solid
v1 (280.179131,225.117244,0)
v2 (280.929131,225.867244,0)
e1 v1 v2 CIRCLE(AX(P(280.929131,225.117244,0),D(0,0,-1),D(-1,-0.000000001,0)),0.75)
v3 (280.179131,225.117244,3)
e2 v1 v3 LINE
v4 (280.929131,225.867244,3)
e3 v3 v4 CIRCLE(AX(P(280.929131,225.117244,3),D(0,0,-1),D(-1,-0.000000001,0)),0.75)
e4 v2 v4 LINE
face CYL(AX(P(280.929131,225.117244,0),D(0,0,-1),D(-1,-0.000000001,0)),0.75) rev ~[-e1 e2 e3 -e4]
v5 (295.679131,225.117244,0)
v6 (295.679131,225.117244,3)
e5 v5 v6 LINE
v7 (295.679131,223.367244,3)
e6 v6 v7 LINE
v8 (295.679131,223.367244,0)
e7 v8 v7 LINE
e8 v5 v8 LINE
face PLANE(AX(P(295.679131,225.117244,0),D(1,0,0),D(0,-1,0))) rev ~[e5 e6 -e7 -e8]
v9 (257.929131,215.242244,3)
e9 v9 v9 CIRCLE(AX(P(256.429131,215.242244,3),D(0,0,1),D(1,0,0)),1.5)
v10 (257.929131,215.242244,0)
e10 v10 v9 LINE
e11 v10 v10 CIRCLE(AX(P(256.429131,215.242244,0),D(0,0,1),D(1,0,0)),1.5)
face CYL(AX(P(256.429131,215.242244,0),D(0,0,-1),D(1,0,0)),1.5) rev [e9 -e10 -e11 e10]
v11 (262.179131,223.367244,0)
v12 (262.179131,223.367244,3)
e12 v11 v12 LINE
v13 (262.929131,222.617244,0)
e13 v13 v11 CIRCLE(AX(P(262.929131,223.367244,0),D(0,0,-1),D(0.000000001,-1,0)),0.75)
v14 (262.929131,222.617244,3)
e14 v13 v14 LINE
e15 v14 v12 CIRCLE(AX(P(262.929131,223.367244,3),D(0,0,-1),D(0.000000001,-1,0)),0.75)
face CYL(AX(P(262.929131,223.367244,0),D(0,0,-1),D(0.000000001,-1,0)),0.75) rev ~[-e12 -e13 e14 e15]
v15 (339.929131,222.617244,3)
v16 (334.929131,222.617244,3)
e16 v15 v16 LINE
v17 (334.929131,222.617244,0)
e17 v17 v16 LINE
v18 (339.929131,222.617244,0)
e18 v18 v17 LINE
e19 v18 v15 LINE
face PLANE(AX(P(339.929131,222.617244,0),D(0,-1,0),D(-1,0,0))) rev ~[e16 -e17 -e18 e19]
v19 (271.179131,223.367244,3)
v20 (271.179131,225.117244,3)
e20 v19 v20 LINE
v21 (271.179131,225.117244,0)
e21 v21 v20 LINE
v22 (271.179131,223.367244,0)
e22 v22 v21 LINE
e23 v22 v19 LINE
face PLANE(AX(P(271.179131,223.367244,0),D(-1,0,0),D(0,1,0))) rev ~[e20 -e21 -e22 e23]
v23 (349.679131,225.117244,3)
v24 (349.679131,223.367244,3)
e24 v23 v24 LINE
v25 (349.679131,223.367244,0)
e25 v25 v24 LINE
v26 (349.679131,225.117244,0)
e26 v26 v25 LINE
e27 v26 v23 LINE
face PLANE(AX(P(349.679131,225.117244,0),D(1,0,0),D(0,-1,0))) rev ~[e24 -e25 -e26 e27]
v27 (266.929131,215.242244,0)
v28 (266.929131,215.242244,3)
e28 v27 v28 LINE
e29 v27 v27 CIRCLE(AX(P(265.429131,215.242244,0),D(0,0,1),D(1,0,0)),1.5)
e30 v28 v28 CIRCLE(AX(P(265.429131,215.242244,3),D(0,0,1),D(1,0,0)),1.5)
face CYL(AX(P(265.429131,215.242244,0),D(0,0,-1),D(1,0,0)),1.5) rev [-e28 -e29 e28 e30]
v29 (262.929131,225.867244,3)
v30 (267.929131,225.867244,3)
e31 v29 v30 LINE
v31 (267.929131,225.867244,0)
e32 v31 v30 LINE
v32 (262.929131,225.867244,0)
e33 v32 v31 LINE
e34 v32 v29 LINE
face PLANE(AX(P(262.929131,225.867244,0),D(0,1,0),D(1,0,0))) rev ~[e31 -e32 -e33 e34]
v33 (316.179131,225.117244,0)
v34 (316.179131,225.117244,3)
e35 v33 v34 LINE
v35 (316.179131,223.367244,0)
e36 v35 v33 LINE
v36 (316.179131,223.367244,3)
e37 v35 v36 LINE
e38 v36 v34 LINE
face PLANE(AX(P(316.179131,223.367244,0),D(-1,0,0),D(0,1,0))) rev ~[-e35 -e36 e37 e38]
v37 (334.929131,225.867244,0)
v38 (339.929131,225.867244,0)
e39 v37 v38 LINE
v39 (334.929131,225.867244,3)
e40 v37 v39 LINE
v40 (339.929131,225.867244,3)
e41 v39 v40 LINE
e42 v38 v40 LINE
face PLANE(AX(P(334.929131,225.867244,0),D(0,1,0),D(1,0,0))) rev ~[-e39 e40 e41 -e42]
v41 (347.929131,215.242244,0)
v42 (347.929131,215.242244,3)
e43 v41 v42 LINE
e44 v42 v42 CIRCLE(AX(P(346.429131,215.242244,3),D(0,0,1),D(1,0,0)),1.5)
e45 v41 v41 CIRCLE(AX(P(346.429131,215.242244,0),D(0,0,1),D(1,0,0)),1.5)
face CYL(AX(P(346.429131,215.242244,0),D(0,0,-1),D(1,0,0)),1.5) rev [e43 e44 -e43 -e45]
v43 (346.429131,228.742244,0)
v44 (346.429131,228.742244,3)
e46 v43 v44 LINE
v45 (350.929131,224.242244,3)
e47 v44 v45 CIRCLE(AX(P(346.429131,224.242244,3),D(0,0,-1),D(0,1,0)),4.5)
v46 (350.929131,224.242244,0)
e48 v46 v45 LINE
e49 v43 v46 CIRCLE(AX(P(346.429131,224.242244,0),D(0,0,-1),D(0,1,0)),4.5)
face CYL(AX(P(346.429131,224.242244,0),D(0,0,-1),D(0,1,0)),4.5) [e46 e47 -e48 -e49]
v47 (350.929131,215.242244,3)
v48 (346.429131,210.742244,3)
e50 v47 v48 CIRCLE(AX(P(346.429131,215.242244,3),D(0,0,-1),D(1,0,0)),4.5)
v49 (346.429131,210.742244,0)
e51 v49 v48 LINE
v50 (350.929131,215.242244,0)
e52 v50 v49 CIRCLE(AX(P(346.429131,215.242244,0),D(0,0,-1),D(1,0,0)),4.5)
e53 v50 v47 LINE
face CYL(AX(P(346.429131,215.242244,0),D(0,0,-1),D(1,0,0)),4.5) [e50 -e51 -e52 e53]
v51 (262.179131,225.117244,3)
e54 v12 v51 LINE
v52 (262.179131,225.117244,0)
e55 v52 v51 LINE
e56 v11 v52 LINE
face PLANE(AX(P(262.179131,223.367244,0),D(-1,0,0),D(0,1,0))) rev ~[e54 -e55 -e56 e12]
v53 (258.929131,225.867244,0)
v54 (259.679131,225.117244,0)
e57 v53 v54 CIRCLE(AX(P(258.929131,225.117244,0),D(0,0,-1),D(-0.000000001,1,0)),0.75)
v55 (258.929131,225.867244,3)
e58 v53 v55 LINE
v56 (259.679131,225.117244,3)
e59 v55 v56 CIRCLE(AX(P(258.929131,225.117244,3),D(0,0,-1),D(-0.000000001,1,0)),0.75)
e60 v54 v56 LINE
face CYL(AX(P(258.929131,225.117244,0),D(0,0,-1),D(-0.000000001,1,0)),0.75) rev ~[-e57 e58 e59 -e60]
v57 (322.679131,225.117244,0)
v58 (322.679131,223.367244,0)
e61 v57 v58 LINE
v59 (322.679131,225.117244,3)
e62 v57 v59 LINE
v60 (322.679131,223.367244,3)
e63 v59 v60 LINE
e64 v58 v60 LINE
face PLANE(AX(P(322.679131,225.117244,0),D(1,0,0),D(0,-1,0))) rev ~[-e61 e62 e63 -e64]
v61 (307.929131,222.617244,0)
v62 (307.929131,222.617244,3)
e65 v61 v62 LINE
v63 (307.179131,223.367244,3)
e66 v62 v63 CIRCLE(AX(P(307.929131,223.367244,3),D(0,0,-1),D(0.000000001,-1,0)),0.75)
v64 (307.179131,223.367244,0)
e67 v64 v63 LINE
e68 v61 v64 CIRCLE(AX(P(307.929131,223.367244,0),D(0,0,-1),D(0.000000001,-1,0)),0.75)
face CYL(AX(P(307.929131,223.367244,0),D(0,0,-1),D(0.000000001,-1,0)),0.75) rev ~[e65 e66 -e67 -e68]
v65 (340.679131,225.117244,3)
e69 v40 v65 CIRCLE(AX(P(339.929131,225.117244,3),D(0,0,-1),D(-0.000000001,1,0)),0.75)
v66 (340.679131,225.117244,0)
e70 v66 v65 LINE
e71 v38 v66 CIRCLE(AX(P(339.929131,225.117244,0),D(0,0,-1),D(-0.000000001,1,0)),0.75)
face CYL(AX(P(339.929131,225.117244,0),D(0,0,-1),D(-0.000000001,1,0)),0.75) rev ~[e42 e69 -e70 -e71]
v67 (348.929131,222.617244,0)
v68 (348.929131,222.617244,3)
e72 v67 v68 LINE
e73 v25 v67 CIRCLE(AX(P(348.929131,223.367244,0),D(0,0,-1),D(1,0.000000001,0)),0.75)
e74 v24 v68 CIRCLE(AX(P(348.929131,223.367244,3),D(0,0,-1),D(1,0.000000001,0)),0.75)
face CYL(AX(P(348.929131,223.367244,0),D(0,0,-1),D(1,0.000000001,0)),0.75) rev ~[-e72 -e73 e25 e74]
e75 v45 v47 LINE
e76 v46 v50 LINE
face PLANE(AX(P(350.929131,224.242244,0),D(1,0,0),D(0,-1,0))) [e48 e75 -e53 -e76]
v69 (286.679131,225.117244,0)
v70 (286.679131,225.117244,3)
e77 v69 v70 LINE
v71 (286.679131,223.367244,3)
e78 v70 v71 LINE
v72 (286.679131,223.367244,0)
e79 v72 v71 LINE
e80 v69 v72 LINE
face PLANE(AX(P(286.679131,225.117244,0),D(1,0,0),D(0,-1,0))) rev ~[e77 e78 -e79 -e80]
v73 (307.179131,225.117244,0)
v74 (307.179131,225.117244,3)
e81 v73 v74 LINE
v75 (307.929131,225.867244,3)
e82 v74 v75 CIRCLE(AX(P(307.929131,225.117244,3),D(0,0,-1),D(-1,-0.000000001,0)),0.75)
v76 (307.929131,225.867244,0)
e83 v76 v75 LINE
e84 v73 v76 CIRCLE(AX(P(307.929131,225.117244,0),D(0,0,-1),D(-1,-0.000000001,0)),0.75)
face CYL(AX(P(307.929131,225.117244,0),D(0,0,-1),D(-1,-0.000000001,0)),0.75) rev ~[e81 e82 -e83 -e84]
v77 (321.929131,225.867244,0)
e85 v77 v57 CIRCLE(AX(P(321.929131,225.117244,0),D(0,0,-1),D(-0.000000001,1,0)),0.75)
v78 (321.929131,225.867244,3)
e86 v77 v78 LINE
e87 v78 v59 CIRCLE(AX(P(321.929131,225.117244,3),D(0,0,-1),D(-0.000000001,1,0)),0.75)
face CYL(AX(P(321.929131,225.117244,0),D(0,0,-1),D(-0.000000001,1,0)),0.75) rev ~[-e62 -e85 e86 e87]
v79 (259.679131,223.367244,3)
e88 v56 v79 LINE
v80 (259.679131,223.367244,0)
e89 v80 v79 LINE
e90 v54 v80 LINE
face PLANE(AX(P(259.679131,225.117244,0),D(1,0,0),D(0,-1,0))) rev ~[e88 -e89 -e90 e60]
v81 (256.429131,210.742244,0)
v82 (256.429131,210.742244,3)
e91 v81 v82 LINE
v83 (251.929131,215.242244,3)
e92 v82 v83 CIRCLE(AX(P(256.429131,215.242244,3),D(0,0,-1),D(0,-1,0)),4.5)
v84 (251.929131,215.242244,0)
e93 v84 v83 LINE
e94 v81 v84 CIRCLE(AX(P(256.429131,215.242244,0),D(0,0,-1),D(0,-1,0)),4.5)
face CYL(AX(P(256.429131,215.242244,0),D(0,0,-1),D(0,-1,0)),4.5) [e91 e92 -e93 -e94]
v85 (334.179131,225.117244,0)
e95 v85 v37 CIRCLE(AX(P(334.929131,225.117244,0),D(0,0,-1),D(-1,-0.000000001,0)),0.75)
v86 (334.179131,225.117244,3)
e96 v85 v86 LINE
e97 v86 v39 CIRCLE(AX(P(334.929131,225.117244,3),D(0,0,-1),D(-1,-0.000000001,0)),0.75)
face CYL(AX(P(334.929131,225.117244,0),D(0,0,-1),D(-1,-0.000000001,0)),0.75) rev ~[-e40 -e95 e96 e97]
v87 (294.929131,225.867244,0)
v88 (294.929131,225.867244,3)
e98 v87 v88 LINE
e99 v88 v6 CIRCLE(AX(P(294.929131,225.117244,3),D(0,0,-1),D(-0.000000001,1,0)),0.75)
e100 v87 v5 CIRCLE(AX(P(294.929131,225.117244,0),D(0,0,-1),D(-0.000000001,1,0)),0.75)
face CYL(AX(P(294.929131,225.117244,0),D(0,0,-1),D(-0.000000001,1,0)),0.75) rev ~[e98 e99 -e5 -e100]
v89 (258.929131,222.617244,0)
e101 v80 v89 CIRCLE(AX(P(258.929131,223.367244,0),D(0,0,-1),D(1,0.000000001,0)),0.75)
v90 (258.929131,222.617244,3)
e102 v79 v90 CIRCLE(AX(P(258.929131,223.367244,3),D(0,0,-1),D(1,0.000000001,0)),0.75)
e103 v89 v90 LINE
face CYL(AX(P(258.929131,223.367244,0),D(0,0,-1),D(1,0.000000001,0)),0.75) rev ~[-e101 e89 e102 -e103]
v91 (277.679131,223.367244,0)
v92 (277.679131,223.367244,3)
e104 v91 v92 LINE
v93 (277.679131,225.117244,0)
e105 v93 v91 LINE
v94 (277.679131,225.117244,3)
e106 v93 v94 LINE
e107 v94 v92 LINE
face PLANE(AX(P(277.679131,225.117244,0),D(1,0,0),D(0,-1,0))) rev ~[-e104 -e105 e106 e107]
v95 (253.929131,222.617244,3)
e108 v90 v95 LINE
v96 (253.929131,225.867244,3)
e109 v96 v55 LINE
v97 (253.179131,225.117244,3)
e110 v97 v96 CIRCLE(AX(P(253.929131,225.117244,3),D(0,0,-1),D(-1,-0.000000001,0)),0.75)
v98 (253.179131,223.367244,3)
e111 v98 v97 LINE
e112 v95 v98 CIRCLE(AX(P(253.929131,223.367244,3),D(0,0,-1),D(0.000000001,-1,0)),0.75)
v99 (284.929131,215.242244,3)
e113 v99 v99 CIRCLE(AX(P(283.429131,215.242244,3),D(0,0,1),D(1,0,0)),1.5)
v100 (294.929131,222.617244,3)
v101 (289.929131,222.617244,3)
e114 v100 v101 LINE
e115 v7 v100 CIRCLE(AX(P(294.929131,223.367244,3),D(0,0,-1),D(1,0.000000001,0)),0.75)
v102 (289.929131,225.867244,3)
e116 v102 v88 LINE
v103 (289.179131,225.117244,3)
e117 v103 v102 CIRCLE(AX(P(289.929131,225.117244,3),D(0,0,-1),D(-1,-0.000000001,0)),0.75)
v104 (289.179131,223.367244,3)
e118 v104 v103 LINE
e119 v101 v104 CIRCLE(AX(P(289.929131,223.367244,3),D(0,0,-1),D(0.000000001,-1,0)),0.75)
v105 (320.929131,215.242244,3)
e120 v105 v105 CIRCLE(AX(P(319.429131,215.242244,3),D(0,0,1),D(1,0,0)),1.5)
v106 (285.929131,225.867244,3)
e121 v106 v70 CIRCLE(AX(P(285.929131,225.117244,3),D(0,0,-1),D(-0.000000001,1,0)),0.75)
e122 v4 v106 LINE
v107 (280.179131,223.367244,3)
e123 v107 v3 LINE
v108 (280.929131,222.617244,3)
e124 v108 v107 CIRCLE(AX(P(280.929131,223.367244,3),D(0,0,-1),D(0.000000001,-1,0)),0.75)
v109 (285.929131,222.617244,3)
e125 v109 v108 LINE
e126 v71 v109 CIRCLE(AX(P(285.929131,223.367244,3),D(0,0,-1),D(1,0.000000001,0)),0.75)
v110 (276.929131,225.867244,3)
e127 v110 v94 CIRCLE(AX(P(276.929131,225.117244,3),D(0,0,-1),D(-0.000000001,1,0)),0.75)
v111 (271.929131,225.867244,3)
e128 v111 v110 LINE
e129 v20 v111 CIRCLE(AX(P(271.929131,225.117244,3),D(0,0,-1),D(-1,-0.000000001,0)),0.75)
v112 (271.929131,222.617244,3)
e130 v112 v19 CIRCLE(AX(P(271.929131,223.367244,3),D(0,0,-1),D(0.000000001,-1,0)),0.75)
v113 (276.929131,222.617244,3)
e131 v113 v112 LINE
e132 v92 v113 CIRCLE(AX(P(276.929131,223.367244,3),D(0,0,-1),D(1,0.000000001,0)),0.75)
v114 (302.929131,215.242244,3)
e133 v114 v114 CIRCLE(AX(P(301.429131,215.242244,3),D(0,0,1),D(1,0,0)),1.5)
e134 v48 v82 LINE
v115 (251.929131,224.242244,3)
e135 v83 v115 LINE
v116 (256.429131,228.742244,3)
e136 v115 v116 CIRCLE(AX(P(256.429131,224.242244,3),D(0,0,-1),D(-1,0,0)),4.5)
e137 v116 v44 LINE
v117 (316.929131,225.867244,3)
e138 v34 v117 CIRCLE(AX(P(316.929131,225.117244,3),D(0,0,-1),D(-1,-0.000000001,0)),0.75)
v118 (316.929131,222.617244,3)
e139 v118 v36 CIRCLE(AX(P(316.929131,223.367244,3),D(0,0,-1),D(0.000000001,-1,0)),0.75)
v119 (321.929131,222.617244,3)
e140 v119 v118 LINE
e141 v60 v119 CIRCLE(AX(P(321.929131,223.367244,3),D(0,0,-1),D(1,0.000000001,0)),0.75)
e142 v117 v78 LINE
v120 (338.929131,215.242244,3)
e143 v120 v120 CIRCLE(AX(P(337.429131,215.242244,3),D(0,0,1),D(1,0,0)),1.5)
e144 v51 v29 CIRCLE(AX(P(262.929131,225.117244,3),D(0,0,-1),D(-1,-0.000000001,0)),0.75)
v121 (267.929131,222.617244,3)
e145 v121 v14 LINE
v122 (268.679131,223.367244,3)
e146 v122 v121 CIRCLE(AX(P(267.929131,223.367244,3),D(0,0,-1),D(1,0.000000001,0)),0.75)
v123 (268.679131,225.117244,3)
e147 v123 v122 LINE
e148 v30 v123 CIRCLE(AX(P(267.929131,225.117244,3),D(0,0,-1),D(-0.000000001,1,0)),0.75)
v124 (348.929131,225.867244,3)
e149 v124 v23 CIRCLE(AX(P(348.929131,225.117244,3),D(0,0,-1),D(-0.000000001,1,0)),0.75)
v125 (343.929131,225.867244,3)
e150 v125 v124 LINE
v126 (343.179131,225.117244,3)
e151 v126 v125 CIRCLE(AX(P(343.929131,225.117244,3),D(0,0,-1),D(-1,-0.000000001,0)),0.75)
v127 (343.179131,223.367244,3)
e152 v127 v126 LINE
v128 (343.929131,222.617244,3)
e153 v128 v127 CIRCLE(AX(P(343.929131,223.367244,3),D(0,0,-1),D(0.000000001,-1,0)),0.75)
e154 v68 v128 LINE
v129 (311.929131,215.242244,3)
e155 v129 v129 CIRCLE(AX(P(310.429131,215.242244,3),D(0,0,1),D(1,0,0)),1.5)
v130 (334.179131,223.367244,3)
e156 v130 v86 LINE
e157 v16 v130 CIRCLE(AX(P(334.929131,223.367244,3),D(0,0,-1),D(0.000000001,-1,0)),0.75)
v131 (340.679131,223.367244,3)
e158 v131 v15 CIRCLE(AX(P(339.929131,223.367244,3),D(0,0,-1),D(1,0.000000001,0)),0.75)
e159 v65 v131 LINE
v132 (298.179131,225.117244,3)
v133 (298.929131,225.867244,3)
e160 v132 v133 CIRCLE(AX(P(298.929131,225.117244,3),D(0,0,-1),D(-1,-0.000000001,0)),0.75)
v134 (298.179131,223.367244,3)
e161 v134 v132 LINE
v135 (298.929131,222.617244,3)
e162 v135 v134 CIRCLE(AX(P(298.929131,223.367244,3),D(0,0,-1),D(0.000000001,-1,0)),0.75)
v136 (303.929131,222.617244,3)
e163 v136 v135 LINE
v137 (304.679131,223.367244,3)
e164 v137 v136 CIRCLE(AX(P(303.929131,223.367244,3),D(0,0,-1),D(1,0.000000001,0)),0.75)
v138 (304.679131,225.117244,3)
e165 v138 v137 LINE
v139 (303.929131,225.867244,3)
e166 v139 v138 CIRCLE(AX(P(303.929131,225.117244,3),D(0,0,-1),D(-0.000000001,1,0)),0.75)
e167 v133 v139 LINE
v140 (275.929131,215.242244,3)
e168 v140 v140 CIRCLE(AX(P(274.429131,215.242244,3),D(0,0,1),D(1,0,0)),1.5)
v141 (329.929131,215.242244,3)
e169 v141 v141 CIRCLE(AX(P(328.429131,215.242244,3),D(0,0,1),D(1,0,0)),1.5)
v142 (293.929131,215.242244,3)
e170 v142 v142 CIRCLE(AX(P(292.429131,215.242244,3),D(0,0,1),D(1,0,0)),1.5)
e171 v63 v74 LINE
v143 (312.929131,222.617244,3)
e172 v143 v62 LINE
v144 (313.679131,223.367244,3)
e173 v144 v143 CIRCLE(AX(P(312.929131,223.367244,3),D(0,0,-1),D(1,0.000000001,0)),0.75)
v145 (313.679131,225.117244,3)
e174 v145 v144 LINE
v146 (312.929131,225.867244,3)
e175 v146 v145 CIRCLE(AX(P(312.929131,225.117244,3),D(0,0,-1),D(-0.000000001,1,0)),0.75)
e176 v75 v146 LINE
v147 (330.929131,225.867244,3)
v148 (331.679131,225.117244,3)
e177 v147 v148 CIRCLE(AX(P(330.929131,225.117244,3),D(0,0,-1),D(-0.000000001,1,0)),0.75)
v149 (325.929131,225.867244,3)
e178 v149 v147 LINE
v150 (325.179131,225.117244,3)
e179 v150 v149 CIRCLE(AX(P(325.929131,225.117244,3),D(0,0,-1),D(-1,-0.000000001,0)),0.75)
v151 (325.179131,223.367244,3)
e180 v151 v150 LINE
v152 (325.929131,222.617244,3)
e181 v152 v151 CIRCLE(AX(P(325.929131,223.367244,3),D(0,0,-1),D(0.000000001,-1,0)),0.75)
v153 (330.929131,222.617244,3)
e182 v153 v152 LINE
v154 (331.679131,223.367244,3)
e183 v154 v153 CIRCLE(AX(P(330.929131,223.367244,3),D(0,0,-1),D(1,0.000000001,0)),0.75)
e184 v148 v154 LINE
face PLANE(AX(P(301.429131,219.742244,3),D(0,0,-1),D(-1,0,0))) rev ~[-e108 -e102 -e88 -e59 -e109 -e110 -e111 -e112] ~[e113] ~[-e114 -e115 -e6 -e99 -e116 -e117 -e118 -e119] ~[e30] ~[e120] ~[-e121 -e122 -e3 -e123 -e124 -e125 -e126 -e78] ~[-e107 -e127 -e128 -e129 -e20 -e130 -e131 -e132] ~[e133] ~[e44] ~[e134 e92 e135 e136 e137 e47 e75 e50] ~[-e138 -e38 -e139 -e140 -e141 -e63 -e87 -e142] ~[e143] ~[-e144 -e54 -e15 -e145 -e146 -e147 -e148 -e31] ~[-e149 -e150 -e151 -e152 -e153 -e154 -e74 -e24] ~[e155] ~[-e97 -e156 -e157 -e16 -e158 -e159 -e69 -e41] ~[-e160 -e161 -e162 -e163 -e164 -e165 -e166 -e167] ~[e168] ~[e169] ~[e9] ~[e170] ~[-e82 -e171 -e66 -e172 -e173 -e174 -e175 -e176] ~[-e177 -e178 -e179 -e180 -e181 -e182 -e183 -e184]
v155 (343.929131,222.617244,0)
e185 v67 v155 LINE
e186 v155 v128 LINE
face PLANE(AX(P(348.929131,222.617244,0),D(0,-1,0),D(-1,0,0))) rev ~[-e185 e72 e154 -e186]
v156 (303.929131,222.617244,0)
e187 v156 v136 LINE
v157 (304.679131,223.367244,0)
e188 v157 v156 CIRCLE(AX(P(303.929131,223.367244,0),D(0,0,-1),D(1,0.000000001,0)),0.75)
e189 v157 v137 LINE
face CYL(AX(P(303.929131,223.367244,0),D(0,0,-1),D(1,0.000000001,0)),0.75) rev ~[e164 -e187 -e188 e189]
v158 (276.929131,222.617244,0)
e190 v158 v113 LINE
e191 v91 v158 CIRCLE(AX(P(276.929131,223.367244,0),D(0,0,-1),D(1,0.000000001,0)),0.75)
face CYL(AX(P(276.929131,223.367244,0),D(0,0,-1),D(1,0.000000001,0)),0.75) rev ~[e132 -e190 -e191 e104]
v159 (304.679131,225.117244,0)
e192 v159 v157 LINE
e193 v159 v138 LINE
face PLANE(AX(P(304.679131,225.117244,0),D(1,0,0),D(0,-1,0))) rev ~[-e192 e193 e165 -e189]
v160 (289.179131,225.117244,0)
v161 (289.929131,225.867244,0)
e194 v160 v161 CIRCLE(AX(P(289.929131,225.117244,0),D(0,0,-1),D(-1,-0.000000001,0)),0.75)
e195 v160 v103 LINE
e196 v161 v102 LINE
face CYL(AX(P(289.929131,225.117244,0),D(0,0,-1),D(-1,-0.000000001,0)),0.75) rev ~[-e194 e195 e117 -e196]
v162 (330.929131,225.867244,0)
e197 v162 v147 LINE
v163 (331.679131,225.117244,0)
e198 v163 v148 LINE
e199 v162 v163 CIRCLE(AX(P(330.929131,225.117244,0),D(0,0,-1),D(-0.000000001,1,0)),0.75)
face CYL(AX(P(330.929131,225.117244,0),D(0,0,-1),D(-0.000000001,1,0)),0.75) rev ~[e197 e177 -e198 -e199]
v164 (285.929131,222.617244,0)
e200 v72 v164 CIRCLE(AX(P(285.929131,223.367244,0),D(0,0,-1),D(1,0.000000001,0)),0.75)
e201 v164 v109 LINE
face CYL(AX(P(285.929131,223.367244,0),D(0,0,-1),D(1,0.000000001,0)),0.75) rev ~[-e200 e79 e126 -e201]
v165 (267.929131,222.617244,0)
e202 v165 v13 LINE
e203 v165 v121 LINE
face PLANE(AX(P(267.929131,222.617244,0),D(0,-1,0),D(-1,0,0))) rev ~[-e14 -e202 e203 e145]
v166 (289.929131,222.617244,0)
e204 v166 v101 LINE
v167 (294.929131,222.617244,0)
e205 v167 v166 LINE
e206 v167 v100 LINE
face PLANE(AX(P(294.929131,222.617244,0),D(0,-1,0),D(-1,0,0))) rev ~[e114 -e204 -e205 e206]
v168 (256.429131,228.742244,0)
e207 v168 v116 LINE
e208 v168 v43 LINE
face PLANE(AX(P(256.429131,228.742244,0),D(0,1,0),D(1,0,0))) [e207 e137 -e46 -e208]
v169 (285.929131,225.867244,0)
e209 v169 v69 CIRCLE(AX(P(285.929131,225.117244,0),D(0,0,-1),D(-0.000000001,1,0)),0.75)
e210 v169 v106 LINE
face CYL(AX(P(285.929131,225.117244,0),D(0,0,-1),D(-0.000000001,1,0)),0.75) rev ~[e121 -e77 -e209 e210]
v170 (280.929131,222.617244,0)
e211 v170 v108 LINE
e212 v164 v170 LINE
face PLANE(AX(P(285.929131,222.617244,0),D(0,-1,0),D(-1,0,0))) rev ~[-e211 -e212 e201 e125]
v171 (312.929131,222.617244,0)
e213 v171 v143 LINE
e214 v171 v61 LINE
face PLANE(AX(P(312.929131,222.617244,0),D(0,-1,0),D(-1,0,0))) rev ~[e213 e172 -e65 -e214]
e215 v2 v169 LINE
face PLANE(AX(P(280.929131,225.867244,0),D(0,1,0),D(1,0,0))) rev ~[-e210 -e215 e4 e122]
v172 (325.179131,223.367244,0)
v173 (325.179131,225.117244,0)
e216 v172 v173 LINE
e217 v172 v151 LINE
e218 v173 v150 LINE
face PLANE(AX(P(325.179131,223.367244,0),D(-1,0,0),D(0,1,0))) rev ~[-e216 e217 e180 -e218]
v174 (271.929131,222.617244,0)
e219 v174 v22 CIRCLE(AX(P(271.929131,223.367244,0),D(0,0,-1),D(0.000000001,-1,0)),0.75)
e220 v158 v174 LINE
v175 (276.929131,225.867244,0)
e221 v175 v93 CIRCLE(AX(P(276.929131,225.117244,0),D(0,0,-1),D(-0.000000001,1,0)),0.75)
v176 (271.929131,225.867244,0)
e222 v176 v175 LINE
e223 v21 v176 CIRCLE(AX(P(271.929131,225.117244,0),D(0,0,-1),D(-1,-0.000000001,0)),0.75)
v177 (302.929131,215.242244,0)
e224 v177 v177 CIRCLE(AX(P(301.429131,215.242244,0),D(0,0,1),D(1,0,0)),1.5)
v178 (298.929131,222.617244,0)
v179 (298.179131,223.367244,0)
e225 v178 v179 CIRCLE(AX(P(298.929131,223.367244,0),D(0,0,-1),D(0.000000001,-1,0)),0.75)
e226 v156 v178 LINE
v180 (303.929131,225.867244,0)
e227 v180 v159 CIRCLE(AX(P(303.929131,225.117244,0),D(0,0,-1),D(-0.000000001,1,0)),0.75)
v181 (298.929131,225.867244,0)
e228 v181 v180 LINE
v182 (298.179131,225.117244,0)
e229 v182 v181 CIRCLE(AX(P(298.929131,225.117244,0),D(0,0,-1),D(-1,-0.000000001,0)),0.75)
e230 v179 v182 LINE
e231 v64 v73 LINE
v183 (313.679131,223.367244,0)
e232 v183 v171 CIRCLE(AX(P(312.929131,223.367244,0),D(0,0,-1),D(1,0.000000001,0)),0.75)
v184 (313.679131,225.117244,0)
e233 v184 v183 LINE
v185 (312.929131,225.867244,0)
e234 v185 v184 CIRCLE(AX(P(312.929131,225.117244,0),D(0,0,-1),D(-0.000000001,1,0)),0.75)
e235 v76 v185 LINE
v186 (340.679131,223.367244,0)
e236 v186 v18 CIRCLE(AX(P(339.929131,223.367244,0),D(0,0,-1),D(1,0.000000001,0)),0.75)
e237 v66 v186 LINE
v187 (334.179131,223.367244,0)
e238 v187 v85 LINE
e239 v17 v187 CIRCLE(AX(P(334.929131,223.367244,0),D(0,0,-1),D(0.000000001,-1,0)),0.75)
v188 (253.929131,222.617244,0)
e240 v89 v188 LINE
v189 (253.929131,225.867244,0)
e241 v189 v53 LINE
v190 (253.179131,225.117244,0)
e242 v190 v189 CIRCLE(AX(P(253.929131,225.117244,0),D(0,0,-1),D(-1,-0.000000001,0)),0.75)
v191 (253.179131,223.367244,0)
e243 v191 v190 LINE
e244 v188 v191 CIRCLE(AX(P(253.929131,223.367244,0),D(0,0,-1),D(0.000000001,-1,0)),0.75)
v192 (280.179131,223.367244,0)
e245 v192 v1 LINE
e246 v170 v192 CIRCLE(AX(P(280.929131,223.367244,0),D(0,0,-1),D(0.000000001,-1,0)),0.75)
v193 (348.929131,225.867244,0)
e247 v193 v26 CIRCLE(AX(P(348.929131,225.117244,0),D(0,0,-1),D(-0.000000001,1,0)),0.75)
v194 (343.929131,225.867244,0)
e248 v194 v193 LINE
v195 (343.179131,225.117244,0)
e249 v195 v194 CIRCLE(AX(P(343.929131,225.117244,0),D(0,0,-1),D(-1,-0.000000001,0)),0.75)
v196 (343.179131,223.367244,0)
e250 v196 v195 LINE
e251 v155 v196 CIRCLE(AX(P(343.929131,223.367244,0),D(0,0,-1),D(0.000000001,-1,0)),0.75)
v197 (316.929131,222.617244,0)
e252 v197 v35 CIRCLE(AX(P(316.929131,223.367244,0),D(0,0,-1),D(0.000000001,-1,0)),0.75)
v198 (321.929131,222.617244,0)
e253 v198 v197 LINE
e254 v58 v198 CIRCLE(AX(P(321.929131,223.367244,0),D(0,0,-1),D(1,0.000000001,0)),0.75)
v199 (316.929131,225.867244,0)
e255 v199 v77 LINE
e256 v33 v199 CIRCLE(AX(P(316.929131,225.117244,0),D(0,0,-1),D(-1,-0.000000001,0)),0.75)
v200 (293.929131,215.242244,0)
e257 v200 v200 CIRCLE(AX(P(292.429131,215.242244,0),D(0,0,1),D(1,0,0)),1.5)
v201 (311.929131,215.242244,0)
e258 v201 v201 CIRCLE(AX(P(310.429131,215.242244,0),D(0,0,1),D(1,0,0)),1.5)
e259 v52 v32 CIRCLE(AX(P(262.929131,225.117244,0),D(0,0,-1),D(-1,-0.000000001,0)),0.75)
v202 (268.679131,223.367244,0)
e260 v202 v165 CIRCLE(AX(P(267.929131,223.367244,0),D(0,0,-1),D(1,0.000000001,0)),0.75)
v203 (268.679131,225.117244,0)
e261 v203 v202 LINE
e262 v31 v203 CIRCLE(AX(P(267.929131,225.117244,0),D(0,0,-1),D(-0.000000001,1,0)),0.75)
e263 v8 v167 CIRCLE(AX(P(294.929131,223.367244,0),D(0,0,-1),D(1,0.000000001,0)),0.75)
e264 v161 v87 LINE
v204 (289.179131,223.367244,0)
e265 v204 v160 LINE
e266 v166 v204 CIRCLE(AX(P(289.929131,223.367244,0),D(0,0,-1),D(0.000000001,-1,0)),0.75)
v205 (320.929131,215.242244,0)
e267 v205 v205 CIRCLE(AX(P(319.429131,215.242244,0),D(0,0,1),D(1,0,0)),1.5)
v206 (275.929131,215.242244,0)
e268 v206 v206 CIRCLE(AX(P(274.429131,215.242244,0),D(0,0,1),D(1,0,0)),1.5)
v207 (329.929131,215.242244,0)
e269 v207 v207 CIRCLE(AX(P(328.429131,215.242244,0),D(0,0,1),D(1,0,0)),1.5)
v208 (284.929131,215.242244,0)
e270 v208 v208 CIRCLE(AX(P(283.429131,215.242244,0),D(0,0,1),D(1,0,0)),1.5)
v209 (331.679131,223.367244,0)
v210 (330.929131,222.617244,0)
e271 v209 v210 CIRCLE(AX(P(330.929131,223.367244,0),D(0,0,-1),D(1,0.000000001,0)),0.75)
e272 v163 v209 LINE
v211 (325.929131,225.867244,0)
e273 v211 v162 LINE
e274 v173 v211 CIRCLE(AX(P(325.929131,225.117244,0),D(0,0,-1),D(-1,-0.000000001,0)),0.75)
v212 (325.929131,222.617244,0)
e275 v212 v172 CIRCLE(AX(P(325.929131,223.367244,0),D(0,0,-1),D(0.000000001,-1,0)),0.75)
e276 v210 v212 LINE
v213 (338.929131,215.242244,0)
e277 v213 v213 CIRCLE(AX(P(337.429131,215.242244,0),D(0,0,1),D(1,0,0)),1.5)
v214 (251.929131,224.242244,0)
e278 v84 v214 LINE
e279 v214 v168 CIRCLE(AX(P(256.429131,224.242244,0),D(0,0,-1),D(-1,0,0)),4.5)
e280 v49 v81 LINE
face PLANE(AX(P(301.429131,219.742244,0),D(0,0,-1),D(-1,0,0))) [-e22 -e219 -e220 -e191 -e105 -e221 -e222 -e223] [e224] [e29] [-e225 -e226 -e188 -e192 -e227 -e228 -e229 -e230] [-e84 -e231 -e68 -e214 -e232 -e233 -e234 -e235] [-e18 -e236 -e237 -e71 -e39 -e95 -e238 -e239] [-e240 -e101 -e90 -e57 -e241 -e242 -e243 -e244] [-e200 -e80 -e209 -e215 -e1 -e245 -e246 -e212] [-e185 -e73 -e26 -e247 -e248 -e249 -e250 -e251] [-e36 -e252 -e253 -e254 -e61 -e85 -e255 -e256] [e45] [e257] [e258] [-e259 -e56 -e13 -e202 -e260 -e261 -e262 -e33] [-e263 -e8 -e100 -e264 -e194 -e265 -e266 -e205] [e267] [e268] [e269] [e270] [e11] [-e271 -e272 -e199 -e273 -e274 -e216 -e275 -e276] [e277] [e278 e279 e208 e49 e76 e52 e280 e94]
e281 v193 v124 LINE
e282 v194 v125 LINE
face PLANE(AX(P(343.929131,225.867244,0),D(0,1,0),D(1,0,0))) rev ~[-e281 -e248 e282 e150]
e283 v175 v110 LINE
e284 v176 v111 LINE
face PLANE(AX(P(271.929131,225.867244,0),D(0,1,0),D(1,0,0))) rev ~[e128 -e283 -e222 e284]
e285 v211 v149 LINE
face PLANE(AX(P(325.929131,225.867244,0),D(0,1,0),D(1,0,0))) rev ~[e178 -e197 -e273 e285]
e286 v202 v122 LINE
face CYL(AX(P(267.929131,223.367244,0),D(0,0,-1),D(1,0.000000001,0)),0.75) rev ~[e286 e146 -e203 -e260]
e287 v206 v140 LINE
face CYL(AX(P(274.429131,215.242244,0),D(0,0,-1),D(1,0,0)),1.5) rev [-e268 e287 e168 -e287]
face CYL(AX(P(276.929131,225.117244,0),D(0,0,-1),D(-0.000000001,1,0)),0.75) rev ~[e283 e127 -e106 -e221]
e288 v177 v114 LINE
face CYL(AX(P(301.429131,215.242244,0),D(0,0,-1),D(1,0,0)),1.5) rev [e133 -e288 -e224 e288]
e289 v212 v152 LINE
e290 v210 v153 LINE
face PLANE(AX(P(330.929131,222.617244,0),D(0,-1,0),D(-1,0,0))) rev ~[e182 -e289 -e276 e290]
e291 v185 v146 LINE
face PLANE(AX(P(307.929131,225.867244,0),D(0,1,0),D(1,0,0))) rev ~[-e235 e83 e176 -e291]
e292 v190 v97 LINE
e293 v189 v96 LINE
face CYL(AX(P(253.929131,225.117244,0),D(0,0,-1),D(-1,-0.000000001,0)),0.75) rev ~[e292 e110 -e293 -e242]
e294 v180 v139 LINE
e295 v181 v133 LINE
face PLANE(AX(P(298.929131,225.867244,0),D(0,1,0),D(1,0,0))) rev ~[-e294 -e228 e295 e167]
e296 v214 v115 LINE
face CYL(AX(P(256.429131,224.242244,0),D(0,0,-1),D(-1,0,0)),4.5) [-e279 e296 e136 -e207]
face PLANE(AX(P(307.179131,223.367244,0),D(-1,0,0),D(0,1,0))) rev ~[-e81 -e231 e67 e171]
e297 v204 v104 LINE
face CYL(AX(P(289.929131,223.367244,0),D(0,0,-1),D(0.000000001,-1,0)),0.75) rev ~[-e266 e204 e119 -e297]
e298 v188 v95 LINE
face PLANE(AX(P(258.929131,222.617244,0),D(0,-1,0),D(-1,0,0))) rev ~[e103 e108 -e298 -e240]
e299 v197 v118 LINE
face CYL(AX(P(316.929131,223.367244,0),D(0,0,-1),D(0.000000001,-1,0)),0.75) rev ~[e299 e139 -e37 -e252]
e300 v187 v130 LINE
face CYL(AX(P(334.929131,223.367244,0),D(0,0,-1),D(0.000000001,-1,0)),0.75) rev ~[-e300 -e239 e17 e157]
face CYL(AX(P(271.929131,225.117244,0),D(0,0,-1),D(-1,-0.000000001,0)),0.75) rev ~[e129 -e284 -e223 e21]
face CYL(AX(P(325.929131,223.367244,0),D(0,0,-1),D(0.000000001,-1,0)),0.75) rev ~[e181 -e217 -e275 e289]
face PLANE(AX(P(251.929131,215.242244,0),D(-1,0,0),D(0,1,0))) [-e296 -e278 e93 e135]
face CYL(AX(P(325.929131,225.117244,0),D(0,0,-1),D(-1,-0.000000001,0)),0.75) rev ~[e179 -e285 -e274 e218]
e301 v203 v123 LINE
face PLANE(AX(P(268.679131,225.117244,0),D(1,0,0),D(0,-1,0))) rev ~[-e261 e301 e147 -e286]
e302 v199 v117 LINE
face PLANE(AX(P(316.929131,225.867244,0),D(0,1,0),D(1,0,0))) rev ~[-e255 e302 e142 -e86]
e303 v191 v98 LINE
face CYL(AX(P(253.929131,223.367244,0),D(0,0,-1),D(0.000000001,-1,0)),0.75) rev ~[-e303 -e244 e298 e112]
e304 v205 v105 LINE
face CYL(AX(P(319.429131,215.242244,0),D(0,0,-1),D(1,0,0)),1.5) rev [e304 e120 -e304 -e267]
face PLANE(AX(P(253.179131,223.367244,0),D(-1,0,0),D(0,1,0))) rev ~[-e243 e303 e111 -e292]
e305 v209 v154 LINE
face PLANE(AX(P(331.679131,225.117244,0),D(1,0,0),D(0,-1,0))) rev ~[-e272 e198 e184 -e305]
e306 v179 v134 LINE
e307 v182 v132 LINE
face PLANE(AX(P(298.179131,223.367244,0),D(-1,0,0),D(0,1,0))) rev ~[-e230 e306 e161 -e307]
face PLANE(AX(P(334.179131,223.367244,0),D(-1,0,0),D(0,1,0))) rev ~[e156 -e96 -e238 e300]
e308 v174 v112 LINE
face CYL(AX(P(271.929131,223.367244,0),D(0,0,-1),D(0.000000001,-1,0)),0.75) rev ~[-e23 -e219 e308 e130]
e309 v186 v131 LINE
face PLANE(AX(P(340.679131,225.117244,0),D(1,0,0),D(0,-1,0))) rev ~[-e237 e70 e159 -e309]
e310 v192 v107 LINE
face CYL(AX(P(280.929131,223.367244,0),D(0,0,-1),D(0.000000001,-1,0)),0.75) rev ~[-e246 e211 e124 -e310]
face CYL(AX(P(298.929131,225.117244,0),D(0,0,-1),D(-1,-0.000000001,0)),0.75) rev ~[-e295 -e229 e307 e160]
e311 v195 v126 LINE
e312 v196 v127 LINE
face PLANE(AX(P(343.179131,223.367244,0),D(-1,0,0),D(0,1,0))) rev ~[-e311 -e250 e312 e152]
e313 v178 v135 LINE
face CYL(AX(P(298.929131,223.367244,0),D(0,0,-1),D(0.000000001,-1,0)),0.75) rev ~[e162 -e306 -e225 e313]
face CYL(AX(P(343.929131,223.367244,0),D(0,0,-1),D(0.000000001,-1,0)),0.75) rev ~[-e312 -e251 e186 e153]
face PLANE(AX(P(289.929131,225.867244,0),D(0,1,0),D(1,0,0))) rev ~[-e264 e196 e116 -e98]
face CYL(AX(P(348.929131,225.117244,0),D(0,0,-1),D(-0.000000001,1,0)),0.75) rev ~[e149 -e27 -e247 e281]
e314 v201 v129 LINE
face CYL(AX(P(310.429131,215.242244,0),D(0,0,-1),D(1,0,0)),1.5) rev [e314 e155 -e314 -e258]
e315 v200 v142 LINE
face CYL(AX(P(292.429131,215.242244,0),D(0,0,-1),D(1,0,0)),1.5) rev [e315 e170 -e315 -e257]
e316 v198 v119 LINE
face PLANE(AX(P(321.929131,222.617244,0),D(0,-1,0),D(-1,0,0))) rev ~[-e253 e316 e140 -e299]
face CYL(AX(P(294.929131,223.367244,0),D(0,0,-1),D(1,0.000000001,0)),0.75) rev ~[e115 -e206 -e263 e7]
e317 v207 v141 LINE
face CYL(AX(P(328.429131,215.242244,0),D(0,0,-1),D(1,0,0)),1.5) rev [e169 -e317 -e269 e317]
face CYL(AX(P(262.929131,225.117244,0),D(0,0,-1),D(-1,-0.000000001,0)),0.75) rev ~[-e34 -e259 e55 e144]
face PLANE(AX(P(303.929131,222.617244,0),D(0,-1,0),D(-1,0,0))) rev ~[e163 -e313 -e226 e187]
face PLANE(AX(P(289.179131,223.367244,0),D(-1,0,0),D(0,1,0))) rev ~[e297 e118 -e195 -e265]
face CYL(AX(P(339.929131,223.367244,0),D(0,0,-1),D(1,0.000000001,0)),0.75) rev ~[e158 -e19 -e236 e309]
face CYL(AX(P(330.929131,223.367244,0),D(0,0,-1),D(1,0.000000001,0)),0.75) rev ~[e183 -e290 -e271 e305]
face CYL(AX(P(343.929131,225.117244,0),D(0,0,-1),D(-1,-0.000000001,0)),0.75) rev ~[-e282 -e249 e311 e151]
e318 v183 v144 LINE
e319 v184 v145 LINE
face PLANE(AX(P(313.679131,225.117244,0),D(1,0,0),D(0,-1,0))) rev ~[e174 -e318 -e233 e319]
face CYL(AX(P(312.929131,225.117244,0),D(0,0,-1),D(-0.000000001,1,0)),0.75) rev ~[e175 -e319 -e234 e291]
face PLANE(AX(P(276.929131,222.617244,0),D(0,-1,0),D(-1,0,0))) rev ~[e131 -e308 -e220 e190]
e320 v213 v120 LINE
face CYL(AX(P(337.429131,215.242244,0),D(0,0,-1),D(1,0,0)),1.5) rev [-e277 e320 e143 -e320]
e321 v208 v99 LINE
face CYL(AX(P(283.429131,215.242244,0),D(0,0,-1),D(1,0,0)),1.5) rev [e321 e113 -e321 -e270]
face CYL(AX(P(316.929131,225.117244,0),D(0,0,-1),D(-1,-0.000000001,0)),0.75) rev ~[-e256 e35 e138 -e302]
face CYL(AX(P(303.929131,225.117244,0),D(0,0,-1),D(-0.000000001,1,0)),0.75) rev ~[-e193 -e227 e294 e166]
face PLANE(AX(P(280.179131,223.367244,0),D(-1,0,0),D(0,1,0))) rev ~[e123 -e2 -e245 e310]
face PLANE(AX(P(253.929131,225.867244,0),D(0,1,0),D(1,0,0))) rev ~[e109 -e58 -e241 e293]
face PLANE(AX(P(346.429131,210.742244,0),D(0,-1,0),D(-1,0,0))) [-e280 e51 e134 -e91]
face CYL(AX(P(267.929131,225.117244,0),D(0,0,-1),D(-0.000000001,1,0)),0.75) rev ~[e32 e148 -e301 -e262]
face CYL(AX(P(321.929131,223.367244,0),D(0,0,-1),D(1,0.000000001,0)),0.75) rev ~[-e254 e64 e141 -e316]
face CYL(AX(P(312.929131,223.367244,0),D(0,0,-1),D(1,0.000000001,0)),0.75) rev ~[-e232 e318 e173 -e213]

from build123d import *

# Parameters (mm, degrees)
MODEL_R                 = 1.5
SALIENTE_EXTRUIR1_DEPTH = 3


with BuildPart() as part:
    # Model → Saliente-Extruir1 (new body)
    with BuildSketch(Plane.XY):
        with BuildLine():
            Line((256.429131311, 228.742243614), (346.429131311, 228.742243614))
            ThreePointArc((346.429131311, 228.742243614), (349.611111826, 227.424224129), (350.929131311, 224.242243614))
            Line((350.929131311, 224.242243614), (350.929131311, 215.242243614))
            ThreePointArc((350.929131311, 215.242243614), (349.611111826, 212.060263099), (346.429131311, 210.742243614))
            Line((346.429131311, 210.742243614), (256.429131311, 210.742243614))
            ThreePointArc((256.429131311, 210.742243614), (253.247150795, 212.060263099), (251.929131311, 215.242243614))
            Line((251.929131311, 215.242243614), (251.929131311, 224.242243614))
            ThreePointArc((251.929131311, 224.242243614), (253.247150795, 227.424224129), (256.429131311, 228.742243614))
        make_face()
        with Locations((337.429131311, 215.242243614)):
            Circle(MODEL_R, mode=Mode.SUBTRACT)
        with Locations((319.429131311, 215.242243614)):
            Circle(MODEL_R, mode=Mode.SUBTRACT)
        with Locations((328.429131311, 215.242243614)):
            Circle(MODEL_R, mode=Mode.SUBTRACT)
        with Locations((310.429131311, 215.242243614)):
            Circle(MODEL_R, mode=Mode.SUBTRACT)
        with Locations((292.429131311, 215.242243614)):
            Circle(MODEL_R, mode=Mode.SUBTRACT)
        with Locations((301.429131311, 215.242243614)):
            Circle(MODEL_R, mode=Mode.SUBTRACT)
        with Locations((274.429131311, 215.242243614)):
            Circle(MODEL_R, mode=Mode.SUBTRACT)
        with Locations((283.429131311, 215.242243614)):
            Circle(MODEL_R, mode=Mode.SUBTRACT)
        with Locations((265.429131311, 215.242243614)):
            Circle(MODEL_R, mode=Mode.SUBTRACT)
        with Locations((256.429131311, 215.242243614)):
            Circle(MODEL_R, mode=Mode.SUBTRACT)
        with Locations((346.429131311, 215.242243614)):
            Circle(MODEL_R, mode=Mode.SUBTRACT)
        with BuildLine():
            Line((267.929131311, 222.617243614), (262.929131311, 222.617243614))
            ThreePointArc((262.929131311, 222.617243614), (262.398801225, 222.836913528), (262.179131311, 223.367243614))
            Line((262.179131311, 223.367243614), (262.179131311, 225.117243614))
            ThreePointArc((262.179131311, 225.117243614), (262.398801225, 225.6475737), (262.929131311, 225.867243614))
            Line((262.929131311, 225.867243614), (267.929131311, 225.867243614))
            ThreePointArc((267.929131311, 225.867243614), (268.459461397, 225.6475737), (268.679131311, 225.117243614))
            Line((268.679131311, 225.117243614), (268.679131311, 223.367243614))
            ThreePointArc((268.679131311, 223.367243614), (268.459461397, 222.836913528), (267.929131311, 222.617243614))
        make_face(mode=Mode.SUBTRACT)
        with BuildLine():
            Line((285.929131311, 222.617243614), (280.929131311, 222.617243614))
            ThreePointArc((280.929131311, 222.617243614), (280.398801225, 222.836913528), (280.179131311, 223.367243614))
            Line((280.179131311, 223.367243614), (280.179131311, 225.117243614))
            ThreePointArc((280.179131311, 225.117243614), (280.398801225, 225.6475737), (280.929131311, 225.867243614))
            Line((280.929131311, 225.867243614), (285.929131311, 225.867243614))
            ThreePointArc((285.929131311, 225.867243614), (286.459461397, 225.6475737), (286.679131311, 225.117243614))
            Line((286.679131311, 225.117243614), (286.679131311, 223.367243614))
            ThreePointArc((286.679131311, 223.367243614), (286.459461397, 222.836913528), (285.929131311, 222.617243614))
        make_face(mode=Mode.SUBTRACT)
        with BuildLine():
            Line((276.929131311, 222.617243614), (271.929131311, 222.617243614))
            ThreePointArc((271.929131311, 222.617243614), (271.398801225, 222.836913528), (271.179131311, 223.367243614))
            Line((271.179131311, 223.367243614), (271.179131311, 225.117243614))
            ThreePointArc((271.179131311, 225.117243614), (271.398801225, 225.6475737), (271.929131311, 225.867243614))
            Line((271.929131311, 225.867243614), (276.929131311, 225.867243614))
            ThreePointArc((276.929131311, 225.867243614), (277.459461397, 225.6475737), (277.679131311, 225.117243614))
            Line((277.679131311, 225.117243614), (277.679131311, 223.367243614))
            ThreePointArc((277.679131311, 223.367243614), (277.459461397, 222.836913528), (276.929131311, 222.617243614))
        make_face(mode=Mode.SUBTRACT)
        with BuildLine():
            Line((294.929131311, 222.617243614), (289.929131311, 222.617243614))
            ThreePointArc((289.929131311, 222.617243614), (289.398801225, 222.836913528), (289.179131311, 223.367243614))
            Line((289.179131311, 223.367243614), (289.179131311, 225.117243614))
            ThreePointArc((289.179131311, 225.117243614), (289.398801225, 225.6475737), (289.929131311, 225.867243614))
            Line((289.929131311, 225.867243614), (294.929131311, 225.867243614))
            ThreePointArc((294.929131311, 225.867243614), (295.459461397, 225.6475737), (295.679131311, 225.117243614))
            Line((295.679131311, 225.117243614), (295.679131311, 223.367243614))
            ThreePointArc((295.679131311, 223.367243614), (295.459461397, 222.836913528), (294.929131311, 222.617243614))
        make_face(mode=Mode.SUBTRACT)
        with BuildLine():
            Line((303.929131311, 222.617243614), (298.929131311, 222.617243614))
            ThreePointArc((298.929131311, 222.617243614), (298.398801225, 222.836913528), (298.179131311, 223.367243614))
            Line((298.179131311, 223.367243614), (298.179131311, 225.117243614))
            ThreePointArc((298.179131311, 225.117243614), (298.398801225, 225.6475737), (298.929131311, 225.867243614))
            Line((298.929131311, 225.867243614), (303.929131311, 225.867243614))
            ThreePointArc((303.929131311, 225.867243614), (304.459461397, 225.6475737), (304.679131311, 225.117243614))
            Line((304.679131311, 225.117243614), (304.679131311, 223.367243614))
            ThreePointArc((304.679131311, 223.367243614), (304.459461397, 222.836913528), (303.929131311, 222.617243614))
        make_face(mode=Mode.SUBTRACT)
        with BuildLine():
            Line((321.929131311, 222.617243614), (316.929131311, 222.617243614))
            ThreePointArc((316.929131311, 222.617243614), (316.398801225, 222.836913528), (316.179131311, 223.367243614))
            Line((316.179131311, 223.367243614), (316.179131311, 225.117243614))
            ThreePointArc((316.179131311, 225.117243614), (316.398801225, 225.6475737), (316.929131311, 225.867243614))
            Line((316.929131311, 225.867243614), (321.929131311, 225.867243614))
            ThreePointArc((321.929131311, 225.867243614), (322.459461397, 225.6475737), (322.679131311, 225.117243614))
            Line((322.679131311, 225.117243614), (322.679131311, 223.367243614))
            ThreePointArc((322.679131311, 223.367243614), (322.459461397, 222.836913528), (321.929131311, 222.617243614))
        make_face(mode=Mode.SUBTRACT)
        with BuildLine():
            Line((312.929131311, 222.617243614), (307.929131311, 222.617243614))
            ThreePointArc((307.929131311, 222.617243614), (307.398801225, 222.836913528), (307.179131311, 223.367243614))
            Line((307.179131311, 223.367243614), (307.179131311, 225.117243614))
            ThreePointArc((307.179131311, 225.117243614), (307.398801225, 225.6475737), (307.929131311, 225.867243614))
            Line((307.929131311, 225.867243614), (312.929131311, 225.867243614))
            ThreePointArc((312.929131311, 225.867243614), (313.459461397, 225.6475737), (313.679131311, 225.117243614))
            Line((313.679131311, 225.117243614), (313.679131311, 223.367243614))
            ThreePointArc((313.679131311, 223.367243614), (313.459461397, 222.836913528), (312.929131311, 222.617243614))
        make_face(mode=Mode.SUBTRACT)
        with BuildLine():
            Line((258.929131311, 222.617243614), (253.929131311, 222.617243614))
            ThreePointArc((253.929131311, 222.617243614), (253.398801225, 222.836913528), (253.179131311, 223.367243614))
            Line((253.179131311, 223.367243614), (253.179131311, 225.117243614))
            ThreePointArc((253.179131311, 225.117243614), (253.398801225, 225.6475737), (253.929131311, 225.867243614))
            Line((253.929131311, 225.867243614), (258.929131311, 225.867243614))
            ThreePointArc((258.929131311, 225.867243614), (259.459461397, 225.6475737), (259.679131311, 225.117243614))
            Line((259.679131311, 225.117243614), (259.679131311, 223.367243614))
            ThreePointArc((259.679131311, 223.367243614), (259.459461397, 222.836913528), (258.929131311, 222.617243614))
        make_face(mode=Mode.SUBTRACT)
        with BuildLine():
            Line((348.929131311, 222.617243614), (343.929131311, 222.617243614))
            ThreePointArc((343.929131311, 222.617243614), (343.398801225, 222.836913528), (343.179131311, 223.367243614))
            Line((343.179131311, 223.367243614), (343.179131311, 225.117243614))
            ThreePointArc((343.179131311, 225.117243614), (343.398801225, 225.6475737), (343.929131311, 225.867243614))
            Line((343.929131311, 225.867243614), (348.929131311, 225.867243614))
            ThreePointArc((348.929131311, 225.867243614), (349.459461397, 225.6475737), (349.679131311, 225.117243614))
            Line((349.679131311, 225.117243614), (349.679131311, 223.367243614))
            ThreePointArc((349.679131311, 223.367243614), (349.459461397, 222.836913528), (348.929131311, 222.617243614))
        make_face(mode=Mode.SUBTRACT)
        with BuildLine():
            Line((339.929131311, 222.617243614), (334.929131311, 222.617243614))
            ThreePointArc((334.929131311, 222.617243614), (334.398801225, 222.836913528), (334.179131311, 223.367243614))
            Line((334.179131311, 223.367243614), (334.179131311, 225.117243614))
            ThreePointArc((334.179131311, 225.117243614), (334.398801225, 225.6475737), (334.929131311, 225.867243614))
            Line((334.929131311, 225.867243614), (339.929131311, 225.867243614))
            ThreePointArc((339.929131311, 225.867243614), (340.459461397, 225.6475737), (340.679131311, 225.117243614))
            Line((340.679131311, 225.117243614), (340.679131311, 223.367243614))
            ThreePointArc((340.679131311, 223.367243614), (340.459461397, 222.836913528), (339.929131311, 222.617243614))
        make_face(mode=Mode.SUBTRACT)
        with BuildLine():
            Line((330.929131311, 222.617243614), (325.929131311, 222.617243614))
            ThreePointArc((325.929131311, 222.617243614), (325.398801225, 222.836913528), (325.179131311, 223.367243614))
            Line((325.179131311, 223.367243614), (325.179131311, 225.117243614))
            ThreePointArc((325.179131311, 225.117243614), (325.398801225, 225.6475737), (325.929131311, 225.867243614))
            Line((325.929131311, 225.867243614), (330.929131311, 225.867243614))
            ThreePointArc((330.929131311, 225.867243614), (331.459461397, 225.6475737), (331.679131311, 225.117243614))
            Line((331.679131311, 225.117243614), (331.679131311, 223.367243614))
            ThreePointArc((331.679131311, 223.367243614), (331.459461397, 222.836913528), (330.929131311, 222.617243614))
        make_face(mode=Mode.SUBTRACT)
    extrude(amount=SALIENTE_EXTRUIR1_DEPTH)


solid = part.part
